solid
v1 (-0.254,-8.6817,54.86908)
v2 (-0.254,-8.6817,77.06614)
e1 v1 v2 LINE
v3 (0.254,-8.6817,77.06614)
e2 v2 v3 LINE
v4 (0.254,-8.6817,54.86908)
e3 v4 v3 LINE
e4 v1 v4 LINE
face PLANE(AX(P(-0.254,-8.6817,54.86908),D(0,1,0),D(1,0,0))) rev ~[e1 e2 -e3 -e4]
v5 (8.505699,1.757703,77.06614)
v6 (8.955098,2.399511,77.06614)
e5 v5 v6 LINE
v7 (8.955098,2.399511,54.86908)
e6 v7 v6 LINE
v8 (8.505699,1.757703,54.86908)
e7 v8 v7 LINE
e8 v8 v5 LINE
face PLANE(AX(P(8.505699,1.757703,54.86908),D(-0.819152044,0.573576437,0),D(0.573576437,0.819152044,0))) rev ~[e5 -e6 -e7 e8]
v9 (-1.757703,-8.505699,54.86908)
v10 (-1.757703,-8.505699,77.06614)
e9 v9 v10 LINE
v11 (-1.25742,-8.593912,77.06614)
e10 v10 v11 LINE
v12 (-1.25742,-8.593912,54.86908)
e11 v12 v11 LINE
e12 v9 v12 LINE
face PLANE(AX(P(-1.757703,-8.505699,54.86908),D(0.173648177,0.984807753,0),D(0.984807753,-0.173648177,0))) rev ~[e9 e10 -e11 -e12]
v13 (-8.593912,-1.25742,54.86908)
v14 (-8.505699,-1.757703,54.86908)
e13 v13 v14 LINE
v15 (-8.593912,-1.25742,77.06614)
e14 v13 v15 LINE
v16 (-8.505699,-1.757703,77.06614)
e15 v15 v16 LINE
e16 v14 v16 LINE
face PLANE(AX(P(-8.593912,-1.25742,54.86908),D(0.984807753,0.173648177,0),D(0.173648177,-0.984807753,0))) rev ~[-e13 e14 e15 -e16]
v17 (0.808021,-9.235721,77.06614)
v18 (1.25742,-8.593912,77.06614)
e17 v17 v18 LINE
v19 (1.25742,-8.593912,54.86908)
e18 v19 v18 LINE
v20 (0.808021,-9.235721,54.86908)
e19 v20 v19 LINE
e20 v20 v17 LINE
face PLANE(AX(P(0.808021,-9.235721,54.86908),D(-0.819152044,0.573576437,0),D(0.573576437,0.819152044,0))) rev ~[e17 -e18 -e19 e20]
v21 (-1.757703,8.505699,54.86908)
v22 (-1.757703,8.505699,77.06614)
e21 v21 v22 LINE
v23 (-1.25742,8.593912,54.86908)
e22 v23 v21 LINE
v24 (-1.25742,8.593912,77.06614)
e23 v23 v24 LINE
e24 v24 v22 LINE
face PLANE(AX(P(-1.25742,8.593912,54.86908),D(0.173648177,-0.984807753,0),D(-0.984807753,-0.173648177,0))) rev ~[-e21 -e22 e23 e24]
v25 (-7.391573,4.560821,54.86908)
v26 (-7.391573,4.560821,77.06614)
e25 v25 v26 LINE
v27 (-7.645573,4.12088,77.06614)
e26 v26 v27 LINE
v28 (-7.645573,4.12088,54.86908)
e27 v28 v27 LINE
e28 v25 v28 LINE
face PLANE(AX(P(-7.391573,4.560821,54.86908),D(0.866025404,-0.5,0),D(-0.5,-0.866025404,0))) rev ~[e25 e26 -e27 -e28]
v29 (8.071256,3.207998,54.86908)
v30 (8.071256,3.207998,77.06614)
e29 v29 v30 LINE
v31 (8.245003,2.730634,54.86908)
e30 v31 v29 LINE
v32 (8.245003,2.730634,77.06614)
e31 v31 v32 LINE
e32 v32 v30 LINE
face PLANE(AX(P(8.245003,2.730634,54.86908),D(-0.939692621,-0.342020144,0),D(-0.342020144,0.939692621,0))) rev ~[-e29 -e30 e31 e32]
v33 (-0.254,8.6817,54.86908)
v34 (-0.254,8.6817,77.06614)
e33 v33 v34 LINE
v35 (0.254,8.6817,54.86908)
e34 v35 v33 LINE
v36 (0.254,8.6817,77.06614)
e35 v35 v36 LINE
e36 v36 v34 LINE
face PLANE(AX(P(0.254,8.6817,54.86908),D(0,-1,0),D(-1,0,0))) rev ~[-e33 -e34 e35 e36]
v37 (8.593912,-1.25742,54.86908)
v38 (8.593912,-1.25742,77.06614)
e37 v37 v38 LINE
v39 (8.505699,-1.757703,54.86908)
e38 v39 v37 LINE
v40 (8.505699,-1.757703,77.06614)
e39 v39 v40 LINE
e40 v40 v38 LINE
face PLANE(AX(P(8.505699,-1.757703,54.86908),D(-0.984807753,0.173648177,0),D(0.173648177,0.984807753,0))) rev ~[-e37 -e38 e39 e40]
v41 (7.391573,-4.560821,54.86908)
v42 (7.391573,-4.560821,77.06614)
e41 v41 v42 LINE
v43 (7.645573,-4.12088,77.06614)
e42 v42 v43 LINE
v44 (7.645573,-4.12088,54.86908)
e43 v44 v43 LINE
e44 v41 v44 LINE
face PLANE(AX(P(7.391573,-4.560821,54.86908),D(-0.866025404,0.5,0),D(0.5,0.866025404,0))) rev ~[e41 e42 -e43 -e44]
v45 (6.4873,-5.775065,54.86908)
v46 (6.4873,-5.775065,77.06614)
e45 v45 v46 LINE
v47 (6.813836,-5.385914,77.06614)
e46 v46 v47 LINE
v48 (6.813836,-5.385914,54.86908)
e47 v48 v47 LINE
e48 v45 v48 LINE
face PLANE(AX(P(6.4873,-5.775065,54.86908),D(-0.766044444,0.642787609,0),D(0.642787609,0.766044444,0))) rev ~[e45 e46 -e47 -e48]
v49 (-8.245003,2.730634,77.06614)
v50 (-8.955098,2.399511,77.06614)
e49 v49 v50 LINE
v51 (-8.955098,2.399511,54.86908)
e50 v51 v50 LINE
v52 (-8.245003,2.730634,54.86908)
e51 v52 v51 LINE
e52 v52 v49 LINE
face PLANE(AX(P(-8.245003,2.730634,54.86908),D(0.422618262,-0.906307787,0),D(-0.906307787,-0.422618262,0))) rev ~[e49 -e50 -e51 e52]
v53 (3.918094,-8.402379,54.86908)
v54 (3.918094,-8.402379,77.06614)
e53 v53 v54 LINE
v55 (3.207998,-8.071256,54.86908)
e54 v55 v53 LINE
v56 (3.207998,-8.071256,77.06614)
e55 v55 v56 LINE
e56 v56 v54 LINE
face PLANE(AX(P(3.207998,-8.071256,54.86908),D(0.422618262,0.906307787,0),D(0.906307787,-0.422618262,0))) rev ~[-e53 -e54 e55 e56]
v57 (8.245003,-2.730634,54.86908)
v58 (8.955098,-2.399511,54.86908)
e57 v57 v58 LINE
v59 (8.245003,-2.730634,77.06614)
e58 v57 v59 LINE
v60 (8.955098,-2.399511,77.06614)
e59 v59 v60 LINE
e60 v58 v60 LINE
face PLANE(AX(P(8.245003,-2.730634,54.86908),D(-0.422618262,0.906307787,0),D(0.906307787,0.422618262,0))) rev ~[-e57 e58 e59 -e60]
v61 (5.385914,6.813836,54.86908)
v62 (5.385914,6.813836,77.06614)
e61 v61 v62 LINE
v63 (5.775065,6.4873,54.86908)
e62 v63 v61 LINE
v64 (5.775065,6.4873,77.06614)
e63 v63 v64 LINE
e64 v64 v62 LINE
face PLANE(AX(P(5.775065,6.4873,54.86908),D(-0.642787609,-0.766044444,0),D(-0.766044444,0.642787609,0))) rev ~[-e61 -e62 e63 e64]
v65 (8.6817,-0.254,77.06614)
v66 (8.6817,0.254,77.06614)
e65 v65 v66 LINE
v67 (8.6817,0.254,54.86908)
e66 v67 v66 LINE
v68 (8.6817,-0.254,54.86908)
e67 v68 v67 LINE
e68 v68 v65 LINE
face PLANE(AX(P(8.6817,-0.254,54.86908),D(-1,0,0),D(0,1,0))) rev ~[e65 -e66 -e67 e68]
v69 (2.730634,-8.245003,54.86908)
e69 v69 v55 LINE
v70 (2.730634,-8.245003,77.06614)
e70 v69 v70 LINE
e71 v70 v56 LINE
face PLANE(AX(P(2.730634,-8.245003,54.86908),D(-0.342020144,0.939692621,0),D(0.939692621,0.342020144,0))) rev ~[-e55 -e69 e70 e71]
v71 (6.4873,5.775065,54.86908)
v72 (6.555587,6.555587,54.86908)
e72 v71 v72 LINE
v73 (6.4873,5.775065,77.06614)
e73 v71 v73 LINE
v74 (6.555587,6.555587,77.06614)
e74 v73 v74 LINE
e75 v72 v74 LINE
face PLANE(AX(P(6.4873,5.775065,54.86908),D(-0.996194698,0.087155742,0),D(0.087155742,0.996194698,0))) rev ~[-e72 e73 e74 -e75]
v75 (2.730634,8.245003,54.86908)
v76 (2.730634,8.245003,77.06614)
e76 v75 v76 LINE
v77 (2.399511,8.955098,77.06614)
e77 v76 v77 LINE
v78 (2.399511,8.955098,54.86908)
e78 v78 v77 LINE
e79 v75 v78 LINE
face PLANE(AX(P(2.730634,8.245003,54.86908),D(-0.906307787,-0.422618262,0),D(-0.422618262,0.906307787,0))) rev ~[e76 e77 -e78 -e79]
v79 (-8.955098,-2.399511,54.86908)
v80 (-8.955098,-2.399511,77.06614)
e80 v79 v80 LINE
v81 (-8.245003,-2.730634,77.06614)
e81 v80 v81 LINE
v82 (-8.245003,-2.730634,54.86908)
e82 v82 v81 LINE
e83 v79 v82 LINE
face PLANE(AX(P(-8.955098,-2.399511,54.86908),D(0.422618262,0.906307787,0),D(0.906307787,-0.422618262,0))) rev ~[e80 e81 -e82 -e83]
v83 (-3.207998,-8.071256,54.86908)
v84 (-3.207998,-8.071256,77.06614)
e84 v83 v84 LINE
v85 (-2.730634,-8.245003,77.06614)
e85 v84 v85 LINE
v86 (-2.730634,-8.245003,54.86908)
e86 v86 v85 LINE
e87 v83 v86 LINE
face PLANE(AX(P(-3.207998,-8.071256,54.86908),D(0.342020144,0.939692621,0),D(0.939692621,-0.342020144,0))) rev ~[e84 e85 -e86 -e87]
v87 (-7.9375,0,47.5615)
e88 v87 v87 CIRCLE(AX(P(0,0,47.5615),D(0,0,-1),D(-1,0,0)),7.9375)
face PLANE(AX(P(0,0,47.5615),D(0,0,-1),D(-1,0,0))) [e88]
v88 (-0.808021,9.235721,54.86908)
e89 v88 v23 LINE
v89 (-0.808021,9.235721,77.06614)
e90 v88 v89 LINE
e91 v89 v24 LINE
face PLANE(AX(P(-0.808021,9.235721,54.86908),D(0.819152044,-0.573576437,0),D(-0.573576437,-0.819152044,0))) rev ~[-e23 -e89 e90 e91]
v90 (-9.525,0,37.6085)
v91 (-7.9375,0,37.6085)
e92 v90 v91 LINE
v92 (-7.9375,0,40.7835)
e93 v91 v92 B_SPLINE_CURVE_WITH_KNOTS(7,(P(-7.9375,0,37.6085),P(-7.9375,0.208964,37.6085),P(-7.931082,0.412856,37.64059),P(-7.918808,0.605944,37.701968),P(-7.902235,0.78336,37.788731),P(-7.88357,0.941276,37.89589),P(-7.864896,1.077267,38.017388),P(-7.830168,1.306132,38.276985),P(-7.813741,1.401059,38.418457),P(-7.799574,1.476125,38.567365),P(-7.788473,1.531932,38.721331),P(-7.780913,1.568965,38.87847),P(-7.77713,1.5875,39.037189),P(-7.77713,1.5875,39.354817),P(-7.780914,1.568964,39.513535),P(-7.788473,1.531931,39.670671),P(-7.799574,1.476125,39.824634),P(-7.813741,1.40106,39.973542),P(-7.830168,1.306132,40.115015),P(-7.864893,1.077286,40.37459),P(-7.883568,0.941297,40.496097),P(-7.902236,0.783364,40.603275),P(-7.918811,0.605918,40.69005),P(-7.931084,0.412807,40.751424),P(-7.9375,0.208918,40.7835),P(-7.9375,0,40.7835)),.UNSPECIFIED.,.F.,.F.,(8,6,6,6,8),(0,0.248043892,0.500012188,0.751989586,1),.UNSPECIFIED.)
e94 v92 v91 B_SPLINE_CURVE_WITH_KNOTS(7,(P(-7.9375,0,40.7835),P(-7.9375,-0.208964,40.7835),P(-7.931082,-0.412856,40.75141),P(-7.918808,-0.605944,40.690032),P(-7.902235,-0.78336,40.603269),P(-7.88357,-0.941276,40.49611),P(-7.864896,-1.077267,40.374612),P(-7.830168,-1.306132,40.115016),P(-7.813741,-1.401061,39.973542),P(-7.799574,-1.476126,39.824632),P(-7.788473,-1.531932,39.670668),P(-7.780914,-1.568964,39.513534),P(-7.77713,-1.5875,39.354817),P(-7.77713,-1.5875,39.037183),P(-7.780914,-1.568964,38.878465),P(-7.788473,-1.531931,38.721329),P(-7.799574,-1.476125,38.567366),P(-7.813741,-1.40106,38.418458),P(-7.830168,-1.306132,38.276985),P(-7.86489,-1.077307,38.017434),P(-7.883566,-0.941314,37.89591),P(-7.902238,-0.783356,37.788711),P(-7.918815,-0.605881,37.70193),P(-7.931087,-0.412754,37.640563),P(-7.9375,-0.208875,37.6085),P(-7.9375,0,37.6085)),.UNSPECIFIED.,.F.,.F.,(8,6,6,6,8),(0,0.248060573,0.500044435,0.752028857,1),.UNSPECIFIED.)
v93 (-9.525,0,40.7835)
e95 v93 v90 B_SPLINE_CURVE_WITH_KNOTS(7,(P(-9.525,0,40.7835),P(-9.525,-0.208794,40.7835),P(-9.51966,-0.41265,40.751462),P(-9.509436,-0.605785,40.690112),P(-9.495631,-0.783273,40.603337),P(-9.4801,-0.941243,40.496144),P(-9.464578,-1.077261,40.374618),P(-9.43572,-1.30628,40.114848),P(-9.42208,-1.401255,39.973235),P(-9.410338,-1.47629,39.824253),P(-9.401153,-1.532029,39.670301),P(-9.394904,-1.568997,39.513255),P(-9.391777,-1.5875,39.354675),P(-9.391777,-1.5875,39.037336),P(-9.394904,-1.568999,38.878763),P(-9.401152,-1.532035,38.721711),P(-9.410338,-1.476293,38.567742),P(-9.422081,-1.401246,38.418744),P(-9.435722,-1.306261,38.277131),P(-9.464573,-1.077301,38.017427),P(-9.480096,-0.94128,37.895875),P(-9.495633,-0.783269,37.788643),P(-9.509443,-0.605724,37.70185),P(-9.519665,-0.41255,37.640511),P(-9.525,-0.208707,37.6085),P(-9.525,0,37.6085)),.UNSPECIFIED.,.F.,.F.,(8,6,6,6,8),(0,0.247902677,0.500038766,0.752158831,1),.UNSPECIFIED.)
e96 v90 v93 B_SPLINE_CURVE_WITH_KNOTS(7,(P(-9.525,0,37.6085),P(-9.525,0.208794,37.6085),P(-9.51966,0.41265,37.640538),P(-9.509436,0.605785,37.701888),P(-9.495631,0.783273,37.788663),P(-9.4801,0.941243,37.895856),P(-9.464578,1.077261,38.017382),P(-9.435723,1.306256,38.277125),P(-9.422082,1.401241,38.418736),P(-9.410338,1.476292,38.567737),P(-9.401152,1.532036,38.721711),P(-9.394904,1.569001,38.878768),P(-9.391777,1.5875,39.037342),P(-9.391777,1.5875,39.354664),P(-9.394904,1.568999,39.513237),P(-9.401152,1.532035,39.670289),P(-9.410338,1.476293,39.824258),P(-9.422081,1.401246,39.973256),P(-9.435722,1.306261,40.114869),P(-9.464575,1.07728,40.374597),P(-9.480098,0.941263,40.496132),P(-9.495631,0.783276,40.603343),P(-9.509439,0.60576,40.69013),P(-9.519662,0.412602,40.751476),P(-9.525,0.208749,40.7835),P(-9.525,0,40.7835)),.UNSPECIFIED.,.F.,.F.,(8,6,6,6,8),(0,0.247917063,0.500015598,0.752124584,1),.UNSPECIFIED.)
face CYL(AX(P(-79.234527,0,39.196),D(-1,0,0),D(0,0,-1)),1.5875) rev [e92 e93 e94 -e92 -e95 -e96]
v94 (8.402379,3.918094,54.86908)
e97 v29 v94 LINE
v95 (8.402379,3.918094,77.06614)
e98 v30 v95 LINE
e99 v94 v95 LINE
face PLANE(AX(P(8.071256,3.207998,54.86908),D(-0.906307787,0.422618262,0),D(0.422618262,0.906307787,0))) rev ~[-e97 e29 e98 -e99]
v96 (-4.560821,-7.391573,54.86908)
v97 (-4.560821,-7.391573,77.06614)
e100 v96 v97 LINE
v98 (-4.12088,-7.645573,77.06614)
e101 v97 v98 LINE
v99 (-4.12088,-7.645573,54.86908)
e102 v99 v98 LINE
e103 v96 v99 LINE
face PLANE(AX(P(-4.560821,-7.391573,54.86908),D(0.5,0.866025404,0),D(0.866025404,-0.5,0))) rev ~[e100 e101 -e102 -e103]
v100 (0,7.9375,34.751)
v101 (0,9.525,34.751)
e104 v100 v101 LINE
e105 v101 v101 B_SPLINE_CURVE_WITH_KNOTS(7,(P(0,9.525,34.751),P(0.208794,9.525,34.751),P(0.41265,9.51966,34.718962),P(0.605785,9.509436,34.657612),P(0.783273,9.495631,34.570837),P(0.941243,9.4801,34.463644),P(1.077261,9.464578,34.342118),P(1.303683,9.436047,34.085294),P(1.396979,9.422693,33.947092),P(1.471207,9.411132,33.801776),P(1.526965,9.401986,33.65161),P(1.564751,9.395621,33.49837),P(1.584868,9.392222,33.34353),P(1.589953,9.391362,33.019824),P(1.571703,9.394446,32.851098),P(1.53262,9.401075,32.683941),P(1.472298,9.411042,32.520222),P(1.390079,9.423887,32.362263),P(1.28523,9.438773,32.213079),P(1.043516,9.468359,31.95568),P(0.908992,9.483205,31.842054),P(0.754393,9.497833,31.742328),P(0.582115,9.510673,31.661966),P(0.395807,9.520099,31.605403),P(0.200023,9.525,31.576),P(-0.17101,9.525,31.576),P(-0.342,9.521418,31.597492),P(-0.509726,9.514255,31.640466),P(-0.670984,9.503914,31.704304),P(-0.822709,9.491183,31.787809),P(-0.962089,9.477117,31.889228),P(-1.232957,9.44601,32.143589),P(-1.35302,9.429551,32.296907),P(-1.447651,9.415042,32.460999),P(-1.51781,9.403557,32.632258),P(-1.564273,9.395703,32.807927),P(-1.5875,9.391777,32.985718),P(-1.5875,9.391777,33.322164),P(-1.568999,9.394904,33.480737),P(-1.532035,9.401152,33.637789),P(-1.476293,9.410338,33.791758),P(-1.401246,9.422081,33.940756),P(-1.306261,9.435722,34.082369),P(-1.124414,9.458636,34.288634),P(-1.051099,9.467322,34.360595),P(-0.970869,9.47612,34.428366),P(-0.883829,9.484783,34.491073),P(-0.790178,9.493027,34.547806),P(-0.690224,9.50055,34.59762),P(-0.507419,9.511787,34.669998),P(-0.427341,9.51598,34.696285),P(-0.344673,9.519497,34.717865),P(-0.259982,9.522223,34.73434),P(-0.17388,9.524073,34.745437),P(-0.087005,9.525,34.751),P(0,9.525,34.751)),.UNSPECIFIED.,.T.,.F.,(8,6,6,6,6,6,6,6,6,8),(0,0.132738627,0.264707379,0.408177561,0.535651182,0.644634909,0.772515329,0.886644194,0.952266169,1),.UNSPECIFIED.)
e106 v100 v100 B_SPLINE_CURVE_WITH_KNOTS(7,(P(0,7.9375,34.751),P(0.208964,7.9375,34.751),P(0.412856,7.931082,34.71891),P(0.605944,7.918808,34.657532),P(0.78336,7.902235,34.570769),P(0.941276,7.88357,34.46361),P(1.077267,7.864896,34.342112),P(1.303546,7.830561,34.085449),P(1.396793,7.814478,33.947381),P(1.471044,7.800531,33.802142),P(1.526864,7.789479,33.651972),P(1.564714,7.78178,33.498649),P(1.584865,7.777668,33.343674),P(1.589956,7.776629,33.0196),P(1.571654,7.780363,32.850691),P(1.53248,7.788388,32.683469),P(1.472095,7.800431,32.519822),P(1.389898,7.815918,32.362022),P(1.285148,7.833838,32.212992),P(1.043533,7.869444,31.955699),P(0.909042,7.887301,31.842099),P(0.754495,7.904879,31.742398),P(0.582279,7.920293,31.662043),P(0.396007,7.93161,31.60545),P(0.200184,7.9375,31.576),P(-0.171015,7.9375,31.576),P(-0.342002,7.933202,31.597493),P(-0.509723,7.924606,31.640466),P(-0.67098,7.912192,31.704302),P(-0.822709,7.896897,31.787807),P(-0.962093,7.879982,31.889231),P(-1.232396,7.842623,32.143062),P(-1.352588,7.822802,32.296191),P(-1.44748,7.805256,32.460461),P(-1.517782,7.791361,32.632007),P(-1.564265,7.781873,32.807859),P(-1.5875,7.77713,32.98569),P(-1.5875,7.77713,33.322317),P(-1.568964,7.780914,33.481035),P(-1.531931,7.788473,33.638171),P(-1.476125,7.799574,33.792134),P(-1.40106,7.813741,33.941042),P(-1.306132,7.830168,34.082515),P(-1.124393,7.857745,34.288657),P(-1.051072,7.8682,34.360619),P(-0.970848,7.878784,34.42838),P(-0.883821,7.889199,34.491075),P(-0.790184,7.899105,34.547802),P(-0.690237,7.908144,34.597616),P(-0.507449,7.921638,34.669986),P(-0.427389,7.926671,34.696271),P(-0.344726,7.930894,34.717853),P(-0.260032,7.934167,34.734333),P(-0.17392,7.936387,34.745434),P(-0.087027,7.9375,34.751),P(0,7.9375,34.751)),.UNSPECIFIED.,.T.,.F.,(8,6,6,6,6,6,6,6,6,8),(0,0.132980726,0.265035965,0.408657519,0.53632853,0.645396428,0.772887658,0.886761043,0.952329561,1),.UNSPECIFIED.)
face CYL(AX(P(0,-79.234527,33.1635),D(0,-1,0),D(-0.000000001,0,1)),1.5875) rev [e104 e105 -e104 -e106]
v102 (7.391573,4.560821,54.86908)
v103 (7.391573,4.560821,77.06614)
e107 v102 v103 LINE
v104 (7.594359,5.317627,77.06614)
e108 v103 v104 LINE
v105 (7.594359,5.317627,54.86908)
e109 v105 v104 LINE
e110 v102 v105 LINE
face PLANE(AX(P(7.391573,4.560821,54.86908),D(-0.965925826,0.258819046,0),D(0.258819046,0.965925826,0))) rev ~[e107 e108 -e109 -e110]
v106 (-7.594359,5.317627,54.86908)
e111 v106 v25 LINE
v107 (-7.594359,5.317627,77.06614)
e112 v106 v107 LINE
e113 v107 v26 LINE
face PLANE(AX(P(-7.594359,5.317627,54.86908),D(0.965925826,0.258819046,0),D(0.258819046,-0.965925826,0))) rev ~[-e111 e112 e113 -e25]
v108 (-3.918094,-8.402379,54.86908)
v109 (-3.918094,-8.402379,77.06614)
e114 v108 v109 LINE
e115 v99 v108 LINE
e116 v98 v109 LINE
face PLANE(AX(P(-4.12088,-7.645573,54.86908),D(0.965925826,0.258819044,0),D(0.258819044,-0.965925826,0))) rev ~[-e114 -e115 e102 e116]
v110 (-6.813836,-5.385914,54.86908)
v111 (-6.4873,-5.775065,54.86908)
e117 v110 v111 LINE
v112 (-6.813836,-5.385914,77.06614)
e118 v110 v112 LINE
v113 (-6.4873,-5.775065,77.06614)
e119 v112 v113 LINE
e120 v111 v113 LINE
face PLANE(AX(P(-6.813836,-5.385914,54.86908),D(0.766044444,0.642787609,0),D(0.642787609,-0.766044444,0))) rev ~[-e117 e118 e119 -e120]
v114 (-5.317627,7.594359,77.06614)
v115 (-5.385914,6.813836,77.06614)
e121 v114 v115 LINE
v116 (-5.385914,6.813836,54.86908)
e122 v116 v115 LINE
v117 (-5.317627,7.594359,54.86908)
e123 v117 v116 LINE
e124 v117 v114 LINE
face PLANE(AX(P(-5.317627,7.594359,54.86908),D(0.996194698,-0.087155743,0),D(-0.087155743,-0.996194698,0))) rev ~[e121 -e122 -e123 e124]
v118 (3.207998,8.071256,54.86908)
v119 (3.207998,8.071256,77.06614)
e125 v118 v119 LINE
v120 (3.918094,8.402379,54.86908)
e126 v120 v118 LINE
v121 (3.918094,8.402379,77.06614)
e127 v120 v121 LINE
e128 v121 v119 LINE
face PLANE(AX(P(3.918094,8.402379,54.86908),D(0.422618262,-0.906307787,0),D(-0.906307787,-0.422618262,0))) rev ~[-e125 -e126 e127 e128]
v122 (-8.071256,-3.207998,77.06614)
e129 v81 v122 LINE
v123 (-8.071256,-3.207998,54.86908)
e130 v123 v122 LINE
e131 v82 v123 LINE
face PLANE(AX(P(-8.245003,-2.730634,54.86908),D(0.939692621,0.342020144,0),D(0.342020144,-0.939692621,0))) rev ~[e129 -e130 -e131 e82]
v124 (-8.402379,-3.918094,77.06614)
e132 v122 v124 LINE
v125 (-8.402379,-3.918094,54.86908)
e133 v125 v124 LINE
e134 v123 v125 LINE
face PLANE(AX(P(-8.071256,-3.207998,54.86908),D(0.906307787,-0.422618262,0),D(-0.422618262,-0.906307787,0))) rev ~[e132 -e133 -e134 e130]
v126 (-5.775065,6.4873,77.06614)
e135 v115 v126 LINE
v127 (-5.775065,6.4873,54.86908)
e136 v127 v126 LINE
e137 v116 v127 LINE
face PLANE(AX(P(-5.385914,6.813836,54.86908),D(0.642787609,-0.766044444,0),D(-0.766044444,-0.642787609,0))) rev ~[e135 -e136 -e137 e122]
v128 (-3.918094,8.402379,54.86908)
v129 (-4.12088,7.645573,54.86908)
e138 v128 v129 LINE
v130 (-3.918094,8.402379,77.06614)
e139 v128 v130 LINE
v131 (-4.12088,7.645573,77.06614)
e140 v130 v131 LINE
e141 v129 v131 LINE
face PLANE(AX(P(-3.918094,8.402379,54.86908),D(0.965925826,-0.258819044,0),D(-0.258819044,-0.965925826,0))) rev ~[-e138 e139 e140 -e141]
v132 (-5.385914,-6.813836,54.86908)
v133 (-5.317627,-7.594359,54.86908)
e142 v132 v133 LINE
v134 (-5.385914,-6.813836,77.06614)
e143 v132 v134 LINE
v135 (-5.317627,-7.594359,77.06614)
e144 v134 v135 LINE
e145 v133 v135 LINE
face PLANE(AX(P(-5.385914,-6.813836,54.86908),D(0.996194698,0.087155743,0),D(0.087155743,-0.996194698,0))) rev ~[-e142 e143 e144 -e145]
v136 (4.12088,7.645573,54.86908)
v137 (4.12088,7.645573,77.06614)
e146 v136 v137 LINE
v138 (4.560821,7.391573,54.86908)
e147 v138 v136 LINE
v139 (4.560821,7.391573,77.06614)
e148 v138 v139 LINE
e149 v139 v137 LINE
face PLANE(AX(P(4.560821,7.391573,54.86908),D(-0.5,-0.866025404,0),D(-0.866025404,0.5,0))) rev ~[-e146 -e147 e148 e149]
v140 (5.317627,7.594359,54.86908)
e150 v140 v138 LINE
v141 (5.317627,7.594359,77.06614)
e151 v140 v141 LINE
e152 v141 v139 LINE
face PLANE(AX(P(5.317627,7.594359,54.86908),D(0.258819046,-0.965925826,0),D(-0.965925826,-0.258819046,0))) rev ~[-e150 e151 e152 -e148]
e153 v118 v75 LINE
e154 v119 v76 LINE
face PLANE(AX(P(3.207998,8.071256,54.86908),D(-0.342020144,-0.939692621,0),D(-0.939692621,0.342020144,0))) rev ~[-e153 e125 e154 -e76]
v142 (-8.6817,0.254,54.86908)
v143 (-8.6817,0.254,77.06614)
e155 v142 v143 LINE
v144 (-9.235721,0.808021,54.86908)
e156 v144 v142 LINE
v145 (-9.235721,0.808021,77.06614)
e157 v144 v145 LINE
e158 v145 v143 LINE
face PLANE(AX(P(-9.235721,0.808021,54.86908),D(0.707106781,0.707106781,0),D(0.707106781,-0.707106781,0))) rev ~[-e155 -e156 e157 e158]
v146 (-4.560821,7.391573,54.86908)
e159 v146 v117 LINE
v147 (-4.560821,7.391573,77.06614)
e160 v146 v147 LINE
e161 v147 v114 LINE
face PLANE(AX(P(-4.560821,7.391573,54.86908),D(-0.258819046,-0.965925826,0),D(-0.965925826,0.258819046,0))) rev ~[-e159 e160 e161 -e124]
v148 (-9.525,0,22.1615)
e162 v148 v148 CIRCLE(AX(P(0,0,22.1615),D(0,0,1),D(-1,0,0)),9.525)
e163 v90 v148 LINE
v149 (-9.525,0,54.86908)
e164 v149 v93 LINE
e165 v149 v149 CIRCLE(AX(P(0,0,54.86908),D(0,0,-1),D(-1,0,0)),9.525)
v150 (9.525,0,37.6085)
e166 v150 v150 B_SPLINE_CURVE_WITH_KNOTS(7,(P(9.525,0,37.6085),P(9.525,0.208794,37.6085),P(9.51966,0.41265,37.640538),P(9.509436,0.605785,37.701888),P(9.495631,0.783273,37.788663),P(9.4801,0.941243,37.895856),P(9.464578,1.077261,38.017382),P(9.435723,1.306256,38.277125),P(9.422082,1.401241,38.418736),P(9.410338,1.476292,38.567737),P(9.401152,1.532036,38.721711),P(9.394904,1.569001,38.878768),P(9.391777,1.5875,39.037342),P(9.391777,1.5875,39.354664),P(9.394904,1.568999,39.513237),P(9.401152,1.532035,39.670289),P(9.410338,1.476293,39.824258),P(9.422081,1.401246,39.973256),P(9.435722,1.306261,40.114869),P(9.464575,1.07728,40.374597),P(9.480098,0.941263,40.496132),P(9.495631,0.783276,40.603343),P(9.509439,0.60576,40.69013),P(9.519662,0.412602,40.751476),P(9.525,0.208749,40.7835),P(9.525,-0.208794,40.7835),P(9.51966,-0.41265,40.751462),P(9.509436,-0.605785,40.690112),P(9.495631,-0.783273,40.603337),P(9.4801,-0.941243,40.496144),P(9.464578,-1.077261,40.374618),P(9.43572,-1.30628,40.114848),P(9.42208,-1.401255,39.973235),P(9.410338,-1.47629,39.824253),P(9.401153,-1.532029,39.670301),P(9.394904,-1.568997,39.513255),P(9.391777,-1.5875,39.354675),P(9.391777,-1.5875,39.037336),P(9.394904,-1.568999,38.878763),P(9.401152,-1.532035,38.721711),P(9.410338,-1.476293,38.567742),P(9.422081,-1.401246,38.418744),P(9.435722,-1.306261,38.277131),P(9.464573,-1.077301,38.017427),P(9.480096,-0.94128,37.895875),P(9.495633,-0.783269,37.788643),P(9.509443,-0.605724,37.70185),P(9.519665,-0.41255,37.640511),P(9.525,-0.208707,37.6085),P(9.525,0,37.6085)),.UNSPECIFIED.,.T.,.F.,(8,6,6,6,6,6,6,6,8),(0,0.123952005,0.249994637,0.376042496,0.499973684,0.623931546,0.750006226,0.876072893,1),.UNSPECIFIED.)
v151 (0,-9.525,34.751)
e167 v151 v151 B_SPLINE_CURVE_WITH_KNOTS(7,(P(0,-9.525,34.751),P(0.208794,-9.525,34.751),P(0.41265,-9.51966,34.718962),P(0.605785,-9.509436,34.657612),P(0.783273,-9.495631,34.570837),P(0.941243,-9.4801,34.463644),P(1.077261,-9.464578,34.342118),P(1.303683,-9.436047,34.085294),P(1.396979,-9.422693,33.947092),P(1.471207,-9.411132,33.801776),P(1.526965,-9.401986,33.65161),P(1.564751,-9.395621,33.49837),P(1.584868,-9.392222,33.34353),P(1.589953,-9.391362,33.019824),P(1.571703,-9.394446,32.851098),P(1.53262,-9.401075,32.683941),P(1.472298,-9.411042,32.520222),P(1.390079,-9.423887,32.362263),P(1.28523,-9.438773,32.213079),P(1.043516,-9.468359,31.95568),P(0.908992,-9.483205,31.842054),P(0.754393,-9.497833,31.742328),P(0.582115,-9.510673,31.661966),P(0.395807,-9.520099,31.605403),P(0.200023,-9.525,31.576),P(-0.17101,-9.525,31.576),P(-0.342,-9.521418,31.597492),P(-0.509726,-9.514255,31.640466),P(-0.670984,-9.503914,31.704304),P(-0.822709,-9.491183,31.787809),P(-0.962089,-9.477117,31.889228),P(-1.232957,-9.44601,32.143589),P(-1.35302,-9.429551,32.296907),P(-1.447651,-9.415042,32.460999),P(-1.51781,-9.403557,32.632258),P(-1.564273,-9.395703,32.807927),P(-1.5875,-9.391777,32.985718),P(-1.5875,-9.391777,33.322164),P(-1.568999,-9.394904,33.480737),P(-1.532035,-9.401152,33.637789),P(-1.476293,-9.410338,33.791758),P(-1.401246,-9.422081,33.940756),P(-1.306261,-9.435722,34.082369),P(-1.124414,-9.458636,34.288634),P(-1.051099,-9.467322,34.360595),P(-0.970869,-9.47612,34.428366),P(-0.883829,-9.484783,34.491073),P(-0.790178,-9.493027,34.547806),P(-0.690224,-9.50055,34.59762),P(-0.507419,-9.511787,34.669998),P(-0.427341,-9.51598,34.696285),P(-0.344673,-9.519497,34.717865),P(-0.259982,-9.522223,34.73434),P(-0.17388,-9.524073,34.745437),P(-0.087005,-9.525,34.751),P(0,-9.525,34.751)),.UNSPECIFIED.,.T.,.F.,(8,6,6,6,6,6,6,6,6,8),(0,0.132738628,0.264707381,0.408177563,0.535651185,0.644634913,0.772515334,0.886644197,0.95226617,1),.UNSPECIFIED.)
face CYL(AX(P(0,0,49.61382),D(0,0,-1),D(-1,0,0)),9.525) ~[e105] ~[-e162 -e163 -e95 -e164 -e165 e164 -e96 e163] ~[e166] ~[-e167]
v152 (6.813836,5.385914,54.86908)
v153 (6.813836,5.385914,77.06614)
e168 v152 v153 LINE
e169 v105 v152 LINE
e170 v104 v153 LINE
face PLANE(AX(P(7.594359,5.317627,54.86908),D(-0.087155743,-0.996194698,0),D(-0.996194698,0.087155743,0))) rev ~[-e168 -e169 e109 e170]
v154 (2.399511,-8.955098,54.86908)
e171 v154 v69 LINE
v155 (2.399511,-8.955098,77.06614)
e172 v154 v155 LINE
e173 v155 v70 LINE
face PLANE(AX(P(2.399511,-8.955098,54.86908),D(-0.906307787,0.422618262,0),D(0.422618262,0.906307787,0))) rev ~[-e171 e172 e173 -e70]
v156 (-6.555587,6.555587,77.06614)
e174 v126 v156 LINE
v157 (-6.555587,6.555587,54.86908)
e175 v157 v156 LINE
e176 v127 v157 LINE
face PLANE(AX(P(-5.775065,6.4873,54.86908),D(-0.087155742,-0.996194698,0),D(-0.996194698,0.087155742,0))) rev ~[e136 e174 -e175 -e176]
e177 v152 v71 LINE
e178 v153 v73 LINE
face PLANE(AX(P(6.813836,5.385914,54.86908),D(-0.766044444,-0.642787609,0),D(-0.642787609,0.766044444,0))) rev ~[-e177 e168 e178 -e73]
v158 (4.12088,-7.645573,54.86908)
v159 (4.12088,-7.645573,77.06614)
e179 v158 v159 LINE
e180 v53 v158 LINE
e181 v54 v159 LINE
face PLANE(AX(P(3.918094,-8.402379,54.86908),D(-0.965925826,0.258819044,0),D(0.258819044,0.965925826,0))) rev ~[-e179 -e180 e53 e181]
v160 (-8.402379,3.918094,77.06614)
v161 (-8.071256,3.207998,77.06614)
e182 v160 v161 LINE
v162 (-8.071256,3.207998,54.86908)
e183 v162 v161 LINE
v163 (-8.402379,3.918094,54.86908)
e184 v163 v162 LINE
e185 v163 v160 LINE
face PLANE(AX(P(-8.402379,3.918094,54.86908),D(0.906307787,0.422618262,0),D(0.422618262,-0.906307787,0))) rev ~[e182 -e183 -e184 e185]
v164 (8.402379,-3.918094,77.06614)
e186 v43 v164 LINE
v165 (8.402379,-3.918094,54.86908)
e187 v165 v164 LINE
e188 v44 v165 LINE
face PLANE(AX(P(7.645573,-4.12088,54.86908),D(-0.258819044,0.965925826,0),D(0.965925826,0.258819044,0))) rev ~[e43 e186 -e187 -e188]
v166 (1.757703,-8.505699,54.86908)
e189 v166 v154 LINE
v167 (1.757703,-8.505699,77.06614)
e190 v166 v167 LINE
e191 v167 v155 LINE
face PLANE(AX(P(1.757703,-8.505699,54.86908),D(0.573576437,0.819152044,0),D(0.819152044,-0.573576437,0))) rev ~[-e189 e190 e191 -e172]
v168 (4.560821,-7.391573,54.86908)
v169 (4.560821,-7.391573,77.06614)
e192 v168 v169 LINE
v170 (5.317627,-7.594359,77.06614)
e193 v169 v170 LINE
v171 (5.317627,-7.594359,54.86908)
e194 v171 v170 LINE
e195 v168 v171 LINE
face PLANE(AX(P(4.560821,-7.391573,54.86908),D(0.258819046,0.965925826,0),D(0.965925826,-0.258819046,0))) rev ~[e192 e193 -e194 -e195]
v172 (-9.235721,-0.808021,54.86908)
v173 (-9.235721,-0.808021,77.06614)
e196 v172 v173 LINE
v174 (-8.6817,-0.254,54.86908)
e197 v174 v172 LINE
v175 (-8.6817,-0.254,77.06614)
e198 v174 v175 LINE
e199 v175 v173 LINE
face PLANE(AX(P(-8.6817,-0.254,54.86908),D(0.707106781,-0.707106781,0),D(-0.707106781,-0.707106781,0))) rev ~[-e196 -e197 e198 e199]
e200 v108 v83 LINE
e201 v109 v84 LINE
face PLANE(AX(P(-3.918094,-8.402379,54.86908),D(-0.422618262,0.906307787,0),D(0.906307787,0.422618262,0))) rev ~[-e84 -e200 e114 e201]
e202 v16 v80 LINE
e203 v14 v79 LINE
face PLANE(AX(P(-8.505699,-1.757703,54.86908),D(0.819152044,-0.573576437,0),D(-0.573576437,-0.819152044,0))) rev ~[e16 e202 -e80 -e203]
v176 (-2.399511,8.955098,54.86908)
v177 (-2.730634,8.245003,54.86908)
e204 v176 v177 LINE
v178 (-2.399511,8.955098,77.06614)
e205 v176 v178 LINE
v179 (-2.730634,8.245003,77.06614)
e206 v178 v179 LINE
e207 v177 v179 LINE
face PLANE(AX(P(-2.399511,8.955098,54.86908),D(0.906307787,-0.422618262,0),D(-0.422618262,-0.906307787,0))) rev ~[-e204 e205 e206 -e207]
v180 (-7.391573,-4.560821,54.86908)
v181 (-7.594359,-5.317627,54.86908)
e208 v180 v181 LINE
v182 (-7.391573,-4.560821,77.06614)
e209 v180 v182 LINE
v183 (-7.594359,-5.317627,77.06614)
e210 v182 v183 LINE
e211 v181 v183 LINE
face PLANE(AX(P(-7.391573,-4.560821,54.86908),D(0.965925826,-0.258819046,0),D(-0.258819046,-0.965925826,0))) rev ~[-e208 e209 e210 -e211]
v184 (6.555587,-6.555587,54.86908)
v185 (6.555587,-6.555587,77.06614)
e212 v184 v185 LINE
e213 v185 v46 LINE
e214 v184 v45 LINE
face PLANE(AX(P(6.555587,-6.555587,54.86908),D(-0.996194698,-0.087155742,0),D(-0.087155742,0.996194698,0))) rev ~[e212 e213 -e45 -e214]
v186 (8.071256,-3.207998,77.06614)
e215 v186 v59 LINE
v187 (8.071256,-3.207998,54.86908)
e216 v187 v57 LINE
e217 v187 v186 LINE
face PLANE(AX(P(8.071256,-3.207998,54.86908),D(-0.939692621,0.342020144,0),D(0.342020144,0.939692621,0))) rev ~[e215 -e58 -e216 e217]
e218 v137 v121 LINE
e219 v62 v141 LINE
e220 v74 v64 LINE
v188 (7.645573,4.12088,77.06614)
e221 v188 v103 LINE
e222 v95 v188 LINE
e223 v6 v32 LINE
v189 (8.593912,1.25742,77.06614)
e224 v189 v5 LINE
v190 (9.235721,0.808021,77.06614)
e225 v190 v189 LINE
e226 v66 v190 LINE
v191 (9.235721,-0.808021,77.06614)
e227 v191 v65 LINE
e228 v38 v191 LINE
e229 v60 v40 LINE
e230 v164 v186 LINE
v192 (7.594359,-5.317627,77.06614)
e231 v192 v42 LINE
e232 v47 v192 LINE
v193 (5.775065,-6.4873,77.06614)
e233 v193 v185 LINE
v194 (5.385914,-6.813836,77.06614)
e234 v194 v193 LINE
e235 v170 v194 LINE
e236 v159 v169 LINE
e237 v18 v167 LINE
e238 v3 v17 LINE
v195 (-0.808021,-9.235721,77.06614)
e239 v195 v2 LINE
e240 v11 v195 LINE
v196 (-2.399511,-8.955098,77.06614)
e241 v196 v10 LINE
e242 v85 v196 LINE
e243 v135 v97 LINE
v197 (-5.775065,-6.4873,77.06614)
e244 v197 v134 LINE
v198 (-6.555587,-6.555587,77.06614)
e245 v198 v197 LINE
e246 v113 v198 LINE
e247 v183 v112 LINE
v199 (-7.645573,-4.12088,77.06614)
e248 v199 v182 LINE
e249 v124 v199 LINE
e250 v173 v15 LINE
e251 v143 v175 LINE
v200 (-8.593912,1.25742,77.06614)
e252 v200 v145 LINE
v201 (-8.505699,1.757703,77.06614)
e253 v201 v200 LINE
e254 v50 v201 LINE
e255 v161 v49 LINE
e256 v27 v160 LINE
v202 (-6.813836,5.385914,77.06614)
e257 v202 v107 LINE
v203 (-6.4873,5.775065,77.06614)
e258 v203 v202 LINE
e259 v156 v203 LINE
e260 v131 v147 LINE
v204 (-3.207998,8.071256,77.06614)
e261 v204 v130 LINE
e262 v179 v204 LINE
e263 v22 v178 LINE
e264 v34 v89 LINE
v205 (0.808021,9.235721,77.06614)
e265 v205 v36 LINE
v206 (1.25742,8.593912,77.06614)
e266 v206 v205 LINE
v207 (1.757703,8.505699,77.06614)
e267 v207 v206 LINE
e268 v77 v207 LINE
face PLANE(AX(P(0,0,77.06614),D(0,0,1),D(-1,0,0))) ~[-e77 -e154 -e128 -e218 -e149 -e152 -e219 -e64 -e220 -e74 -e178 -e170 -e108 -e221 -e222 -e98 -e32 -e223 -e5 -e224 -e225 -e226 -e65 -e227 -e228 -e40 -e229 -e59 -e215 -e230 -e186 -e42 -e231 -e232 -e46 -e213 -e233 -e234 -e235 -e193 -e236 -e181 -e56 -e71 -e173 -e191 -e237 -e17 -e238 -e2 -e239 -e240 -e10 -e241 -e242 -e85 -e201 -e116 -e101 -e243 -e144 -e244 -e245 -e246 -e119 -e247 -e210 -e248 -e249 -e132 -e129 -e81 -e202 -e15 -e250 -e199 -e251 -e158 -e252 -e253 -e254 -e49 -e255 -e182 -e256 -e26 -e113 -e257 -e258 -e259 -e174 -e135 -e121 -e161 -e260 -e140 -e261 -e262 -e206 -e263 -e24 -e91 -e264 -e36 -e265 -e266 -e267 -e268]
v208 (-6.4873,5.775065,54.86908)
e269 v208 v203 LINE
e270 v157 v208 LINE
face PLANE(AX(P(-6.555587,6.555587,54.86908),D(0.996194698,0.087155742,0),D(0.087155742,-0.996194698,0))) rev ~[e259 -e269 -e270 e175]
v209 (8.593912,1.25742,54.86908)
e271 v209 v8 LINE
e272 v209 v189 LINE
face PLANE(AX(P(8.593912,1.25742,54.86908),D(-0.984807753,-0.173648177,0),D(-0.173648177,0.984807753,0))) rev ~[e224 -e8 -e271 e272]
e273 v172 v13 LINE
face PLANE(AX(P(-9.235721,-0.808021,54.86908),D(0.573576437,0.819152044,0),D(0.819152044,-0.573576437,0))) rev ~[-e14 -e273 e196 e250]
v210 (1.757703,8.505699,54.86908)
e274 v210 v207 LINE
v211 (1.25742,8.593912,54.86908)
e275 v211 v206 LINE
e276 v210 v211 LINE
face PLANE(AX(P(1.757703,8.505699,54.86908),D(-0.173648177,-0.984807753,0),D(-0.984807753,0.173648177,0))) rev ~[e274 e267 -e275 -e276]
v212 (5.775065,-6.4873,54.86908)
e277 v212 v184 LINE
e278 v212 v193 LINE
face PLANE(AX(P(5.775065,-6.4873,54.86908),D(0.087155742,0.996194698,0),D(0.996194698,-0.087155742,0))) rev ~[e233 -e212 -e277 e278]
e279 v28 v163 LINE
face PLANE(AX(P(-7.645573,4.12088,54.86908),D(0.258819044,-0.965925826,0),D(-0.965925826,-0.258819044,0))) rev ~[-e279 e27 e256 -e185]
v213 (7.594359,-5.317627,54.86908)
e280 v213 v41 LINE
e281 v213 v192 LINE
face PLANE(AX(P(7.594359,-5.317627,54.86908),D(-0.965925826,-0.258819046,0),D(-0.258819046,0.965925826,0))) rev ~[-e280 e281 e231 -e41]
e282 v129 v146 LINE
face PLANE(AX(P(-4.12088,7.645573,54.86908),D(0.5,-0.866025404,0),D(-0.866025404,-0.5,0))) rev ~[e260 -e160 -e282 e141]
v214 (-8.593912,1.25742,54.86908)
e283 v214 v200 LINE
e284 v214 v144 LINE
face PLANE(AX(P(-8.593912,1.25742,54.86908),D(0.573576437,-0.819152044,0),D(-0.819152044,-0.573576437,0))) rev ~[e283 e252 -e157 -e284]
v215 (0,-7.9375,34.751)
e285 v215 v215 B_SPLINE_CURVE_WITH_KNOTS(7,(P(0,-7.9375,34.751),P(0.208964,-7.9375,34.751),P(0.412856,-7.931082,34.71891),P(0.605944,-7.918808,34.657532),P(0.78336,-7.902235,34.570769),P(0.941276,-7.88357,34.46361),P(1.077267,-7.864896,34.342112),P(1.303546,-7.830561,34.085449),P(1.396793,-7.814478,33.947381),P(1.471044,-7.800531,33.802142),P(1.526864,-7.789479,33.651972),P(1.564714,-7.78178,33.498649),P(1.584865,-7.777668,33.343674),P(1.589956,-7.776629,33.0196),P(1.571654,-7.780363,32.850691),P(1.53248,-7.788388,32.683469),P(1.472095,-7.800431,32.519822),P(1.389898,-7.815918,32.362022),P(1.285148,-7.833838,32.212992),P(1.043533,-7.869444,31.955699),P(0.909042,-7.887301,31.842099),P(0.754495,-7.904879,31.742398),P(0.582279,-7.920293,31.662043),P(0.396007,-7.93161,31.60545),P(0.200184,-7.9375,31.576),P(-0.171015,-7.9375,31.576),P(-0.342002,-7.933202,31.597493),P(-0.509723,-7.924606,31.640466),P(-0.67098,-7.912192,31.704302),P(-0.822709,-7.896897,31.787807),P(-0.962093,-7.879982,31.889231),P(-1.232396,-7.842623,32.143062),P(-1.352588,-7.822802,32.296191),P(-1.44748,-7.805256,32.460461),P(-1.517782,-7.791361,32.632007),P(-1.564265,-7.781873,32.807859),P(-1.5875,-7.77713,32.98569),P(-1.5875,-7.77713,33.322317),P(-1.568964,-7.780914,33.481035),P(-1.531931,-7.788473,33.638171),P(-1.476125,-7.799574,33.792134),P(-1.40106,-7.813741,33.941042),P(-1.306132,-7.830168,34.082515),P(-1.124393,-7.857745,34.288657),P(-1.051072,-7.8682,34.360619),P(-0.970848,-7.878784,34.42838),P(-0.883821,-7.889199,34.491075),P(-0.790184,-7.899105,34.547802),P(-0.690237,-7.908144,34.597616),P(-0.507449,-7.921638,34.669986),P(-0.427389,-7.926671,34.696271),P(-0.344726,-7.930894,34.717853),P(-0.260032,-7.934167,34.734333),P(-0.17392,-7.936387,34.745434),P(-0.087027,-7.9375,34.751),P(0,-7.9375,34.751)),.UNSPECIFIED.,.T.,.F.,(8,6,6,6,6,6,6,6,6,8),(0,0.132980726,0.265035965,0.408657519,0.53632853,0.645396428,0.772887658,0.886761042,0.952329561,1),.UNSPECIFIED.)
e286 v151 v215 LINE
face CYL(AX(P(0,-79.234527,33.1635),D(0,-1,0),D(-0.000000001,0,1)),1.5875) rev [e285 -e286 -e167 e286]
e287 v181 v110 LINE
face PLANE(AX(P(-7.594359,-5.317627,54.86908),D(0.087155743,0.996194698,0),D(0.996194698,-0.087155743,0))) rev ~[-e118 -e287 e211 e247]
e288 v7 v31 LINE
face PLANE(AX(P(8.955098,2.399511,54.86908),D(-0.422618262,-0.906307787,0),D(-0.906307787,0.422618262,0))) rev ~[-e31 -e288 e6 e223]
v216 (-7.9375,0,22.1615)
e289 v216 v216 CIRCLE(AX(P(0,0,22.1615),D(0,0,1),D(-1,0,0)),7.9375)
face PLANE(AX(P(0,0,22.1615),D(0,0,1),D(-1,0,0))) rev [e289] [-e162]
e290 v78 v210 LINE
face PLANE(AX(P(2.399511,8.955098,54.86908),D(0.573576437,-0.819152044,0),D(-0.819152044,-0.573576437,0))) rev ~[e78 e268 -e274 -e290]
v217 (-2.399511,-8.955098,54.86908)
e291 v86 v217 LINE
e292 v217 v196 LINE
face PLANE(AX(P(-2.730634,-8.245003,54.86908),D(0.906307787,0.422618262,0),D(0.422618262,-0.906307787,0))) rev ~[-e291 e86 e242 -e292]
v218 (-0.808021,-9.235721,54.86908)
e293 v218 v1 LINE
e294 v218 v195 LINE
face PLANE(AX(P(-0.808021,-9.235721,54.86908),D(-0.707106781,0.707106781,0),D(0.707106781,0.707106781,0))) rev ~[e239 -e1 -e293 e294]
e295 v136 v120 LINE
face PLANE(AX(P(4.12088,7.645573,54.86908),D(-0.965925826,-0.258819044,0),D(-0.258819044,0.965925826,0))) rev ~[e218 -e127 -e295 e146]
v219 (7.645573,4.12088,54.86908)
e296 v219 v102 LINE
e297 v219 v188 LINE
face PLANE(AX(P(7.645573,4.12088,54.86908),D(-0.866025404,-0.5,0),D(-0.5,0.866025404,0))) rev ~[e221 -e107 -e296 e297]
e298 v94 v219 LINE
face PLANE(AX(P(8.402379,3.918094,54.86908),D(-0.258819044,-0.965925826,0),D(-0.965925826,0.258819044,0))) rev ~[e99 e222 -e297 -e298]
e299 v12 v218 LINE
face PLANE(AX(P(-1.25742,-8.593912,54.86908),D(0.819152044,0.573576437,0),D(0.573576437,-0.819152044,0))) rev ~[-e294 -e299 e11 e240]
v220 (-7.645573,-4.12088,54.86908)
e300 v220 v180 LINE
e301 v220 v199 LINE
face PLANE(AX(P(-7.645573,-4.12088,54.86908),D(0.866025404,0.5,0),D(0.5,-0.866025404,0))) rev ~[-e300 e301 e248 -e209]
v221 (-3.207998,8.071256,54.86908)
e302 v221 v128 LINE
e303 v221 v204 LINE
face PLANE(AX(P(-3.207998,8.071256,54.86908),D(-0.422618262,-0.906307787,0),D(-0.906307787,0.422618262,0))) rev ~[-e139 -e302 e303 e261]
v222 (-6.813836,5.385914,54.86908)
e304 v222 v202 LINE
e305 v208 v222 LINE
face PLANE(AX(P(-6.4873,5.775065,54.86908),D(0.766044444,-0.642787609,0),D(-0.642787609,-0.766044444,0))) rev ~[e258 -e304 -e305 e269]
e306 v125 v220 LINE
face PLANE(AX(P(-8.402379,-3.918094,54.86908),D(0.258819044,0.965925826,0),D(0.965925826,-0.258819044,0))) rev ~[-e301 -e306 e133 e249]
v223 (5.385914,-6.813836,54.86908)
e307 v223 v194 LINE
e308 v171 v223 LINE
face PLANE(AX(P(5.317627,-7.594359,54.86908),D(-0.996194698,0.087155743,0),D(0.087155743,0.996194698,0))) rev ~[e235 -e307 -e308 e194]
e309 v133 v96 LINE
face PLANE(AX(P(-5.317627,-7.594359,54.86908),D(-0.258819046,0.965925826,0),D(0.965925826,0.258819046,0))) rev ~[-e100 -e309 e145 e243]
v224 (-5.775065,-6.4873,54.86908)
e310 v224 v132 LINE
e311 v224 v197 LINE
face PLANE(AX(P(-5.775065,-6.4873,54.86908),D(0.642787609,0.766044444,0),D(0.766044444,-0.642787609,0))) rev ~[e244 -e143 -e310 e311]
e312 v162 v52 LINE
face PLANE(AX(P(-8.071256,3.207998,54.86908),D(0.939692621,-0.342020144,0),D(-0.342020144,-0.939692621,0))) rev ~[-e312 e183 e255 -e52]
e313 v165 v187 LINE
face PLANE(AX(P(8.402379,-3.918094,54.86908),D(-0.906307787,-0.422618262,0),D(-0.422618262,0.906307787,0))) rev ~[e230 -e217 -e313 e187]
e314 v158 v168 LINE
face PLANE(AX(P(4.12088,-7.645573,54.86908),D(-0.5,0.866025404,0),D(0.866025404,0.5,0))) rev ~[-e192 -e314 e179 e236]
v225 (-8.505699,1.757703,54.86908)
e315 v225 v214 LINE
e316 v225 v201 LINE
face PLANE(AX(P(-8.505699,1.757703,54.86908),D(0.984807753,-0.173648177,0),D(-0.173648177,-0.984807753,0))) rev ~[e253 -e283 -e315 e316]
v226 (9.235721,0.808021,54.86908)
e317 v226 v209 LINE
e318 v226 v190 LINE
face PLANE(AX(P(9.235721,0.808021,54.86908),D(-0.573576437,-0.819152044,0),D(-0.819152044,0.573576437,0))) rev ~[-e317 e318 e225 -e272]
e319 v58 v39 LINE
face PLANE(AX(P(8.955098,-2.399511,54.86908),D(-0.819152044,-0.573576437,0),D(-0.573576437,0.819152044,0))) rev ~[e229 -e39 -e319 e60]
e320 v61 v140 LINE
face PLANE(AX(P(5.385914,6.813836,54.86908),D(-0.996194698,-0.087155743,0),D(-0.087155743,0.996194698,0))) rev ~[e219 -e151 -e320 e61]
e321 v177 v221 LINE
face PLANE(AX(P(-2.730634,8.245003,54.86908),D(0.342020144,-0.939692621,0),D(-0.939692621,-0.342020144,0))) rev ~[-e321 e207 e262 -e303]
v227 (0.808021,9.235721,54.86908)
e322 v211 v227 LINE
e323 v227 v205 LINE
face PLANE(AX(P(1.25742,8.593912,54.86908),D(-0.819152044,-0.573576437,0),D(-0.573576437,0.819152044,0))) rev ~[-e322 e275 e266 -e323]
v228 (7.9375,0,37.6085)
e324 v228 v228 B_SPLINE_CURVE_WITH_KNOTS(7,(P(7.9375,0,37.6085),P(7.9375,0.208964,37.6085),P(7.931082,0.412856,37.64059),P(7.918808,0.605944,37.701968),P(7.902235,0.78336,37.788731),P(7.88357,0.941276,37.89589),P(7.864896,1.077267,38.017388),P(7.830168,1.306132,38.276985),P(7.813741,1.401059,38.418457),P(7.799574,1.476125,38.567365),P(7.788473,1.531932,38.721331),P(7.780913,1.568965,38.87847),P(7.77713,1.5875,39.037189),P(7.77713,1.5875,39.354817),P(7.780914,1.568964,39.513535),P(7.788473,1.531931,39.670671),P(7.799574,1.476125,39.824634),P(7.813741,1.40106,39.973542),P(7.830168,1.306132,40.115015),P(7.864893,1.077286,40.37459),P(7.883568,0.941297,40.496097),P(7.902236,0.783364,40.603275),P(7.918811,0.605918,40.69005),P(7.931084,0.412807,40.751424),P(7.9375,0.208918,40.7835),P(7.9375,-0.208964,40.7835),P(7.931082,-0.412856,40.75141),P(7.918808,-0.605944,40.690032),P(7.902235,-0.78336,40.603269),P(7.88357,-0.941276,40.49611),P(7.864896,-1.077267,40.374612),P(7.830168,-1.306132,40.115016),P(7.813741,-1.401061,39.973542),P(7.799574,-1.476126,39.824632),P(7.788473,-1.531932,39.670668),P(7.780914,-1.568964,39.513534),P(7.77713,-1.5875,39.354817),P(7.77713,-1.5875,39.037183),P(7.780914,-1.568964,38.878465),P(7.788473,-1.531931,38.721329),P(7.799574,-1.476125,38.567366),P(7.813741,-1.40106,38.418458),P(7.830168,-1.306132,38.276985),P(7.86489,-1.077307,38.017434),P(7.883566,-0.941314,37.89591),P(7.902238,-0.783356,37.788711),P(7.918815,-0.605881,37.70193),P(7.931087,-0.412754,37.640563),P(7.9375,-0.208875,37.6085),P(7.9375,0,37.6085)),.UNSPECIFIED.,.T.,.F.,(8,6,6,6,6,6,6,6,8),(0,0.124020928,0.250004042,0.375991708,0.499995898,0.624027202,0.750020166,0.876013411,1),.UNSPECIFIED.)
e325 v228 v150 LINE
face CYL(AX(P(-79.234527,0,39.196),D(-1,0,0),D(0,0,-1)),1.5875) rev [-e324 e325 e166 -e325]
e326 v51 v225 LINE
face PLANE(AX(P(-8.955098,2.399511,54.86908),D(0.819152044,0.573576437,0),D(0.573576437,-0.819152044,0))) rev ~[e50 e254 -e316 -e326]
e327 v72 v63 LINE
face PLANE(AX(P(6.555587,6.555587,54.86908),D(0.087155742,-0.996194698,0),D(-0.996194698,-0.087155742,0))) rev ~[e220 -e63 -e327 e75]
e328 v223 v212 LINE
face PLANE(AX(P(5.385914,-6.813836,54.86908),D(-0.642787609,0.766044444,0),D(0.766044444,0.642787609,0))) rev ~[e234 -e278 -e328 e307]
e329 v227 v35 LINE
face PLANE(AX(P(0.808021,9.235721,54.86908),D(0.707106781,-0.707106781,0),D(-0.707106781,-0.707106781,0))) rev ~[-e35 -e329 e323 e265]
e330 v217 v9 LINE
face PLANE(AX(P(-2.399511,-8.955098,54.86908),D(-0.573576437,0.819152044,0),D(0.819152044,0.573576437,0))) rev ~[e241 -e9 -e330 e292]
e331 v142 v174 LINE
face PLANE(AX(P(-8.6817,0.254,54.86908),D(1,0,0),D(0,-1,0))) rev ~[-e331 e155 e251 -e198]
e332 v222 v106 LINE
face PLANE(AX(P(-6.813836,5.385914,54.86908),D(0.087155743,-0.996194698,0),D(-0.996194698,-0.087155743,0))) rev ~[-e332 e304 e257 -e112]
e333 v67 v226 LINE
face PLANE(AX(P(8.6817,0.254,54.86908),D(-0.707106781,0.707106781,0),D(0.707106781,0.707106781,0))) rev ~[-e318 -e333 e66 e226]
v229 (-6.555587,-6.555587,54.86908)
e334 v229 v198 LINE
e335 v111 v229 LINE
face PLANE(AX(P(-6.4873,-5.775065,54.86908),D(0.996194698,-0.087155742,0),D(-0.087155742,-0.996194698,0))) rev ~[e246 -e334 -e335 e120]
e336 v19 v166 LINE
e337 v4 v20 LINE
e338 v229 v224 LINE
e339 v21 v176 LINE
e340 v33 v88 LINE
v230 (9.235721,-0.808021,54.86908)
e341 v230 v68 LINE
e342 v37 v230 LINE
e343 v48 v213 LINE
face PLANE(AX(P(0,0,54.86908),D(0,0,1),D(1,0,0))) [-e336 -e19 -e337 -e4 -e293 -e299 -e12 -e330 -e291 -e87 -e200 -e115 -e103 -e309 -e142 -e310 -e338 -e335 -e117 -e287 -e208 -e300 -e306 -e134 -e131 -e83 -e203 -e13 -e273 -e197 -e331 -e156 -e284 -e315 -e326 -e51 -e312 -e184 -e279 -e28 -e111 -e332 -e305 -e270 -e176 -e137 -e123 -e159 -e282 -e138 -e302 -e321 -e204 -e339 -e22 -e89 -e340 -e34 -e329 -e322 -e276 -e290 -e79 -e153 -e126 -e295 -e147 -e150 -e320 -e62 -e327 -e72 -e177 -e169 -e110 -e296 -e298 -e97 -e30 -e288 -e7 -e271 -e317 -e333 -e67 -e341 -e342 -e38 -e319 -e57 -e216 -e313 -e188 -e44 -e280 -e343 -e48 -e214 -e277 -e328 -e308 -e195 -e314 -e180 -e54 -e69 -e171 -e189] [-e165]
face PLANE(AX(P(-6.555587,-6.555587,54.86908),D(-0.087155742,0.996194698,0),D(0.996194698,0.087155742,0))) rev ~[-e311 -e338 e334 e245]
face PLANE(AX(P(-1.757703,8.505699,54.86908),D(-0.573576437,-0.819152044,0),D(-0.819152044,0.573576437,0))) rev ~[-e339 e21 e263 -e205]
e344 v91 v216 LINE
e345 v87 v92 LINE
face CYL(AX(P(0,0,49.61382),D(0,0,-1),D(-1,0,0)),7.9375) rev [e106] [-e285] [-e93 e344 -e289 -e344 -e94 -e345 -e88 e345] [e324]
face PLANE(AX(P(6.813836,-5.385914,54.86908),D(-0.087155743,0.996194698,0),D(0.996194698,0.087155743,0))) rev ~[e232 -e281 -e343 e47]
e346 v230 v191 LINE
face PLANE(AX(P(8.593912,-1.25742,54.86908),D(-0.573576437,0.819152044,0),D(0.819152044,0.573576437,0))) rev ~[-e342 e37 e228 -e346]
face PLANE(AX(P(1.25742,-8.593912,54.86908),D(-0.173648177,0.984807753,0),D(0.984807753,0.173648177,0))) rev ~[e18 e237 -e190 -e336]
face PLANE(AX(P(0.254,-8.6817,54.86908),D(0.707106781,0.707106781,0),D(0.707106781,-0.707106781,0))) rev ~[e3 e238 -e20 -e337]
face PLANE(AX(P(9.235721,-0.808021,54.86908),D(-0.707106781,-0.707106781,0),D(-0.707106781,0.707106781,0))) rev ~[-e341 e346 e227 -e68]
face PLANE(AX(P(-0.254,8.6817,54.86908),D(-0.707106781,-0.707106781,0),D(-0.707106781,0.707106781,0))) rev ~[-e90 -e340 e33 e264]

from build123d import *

# Parameters (mm, degrees)
SKETCH5_W               = 1.587499994
SKETCH5_H               = 54.90464
CUT_EXTRUDE5_DEPTH      = 79.234526804
CUT_EXTRUDE5_DEPTH_BACK = 79.234526804
SKETCH7_R               = 1.5875
CUT_EXTRUDE6_DEPTH      = 79.234526927
CUT_EXTRUDE6_DEPTH_BACK = 79.234526927
SKETCH6_R               = 1.5875
SKETCH10_R              = 7.9375
BOSS_EXTRUDE1_DEPTH     = 29.50464
CUT_EXTRUDE7_START      = 54.86908
SKETCH8_R               = 12.7
CUT_EXTRUDE7_DEPTH      = 25.4


with BuildPart() as part:
    # Sketch5 → Revolve2 (revolve)
    with BuildSketch(Plane(origin=(0, 0, 0), x_dir=(1, 0, 0), z_dir=(0, 1, 0)), mode=Mode.PRIVATE) as revolve2_sk:
        with Locations((8.731249997, -49.61382)):
            Rectangle(SKETCH5_W, SKETCH5_H)
    revolve(revolve2_sk.sketch.rotate(Axis((0, 0, 0), (0, 0, 1)), 180), axis=Axis((0, 0, 0), (0, 0, 1)))

    # Sketch7 → Cut-Extrude5 (cut, two sides: drawn at the far end of the back side and taken through both)
    with BuildSketch(Plane(origin=(0, 0, 0), x_dir=(0, 0, -1), z_dir=(1, 0, 0)).offset(-CUT_EXTRUDE5_DEPTH_BACK)):
        with Locations((-39.195999993, 0)):
            Circle(SKETCH7_R)
    extrude(amount=CUT_EXTRUDE5_DEPTH + CUT_EXTRUDE5_DEPTH_BACK, mode=Mode.SUBTRACT)

    # Sketch6 → Cut-Extrude6 (cut, two sides: drawn at the far end of the back side and taken through both)
    with BuildSketch(Plane(origin=(0, 0, 0), x_dir=(1, 0, 0), z_dir=(0, 1, 0)).offset(-CUT_EXTRUDE6_DEPTH_BACK)):
        with Locations(Location((1e-09, -33.163499999, 0), (0, 0, 269.999999955))):
            Circle(SKETCH6_R)
    extrude(amount=CUT_EXTRUDE6_DEPTH + CUT_EXTRUDE6_DEPTH_BACK, mode=Mode.SUBTRACT)

    # Sketch10 → Boss-Extrude1 (add)
    with BuildSketch(Plane(origin=(0, 0, 47.5615), x_dir=(-1, 0, 0), z_dir=(0, 0, -1))):
        Circle(SKETCH10_R)
    extrude(amount=-BOSS_EXTRUDE1_DEPTH)

    # Sketch8 → Cut-Extrude7 (cut)
    with BuildSketch(Plane.XY.offset(CUT_EXTRUDE7_START)):
        Circle(SKETCH8_R)
        Polygon((9.235721046, -0.808020891), (8.681700155, -0.254), (8.681700155, 0.254), (9.235721046, 0.808020891), (8.593912259, 1.257420242), (8.505698985, 1.75770258), (8.955098336, 2.399511367), (8.245002688, 2.730634406), (8.071256455, 3.207998257), (8.402379494, 3.918093905), (7.645572882, 4.120879625), (7.391572882, 4.56082053), (7.594358603, 5.317627141), (6.813836213, 5.385914002), (6.487300108, 5.775064579), (6.555586968, 6.555586968), (5.775064579, 6.487300108), (5.385914002, 6.813836213), (5.317627141, 7.594358603), (4.56082053, 7.391572882), (4.120879625, 7.645572882), (3.918093905, 8.402379494), (3.207998257, 8.071256455), (2.730634406, 8.245002688), (2.399511367, 8.955098336), (1.75770258, 8.505698985), (1.257420242, 8.593912259), (0.808020891, 9.235721046), (0.254, 8.681700155), (-0.254, 8.681700155), (-0.808020891, 9.235721046), (-1.257420242, 8.593912259), (-1.75770258, 8.505698985), (-2.399511367, 8.955098336), (-2.730634406, 8.245002688), (-3.207998257, 8.071256455), (-3.918093905, 8.402379494), (-4.120879625, 7.645572882), (-4.56082053, 7.391572882), (-5.317627141, 7.594358603), (-5.385914002, 6.813836213), (-5.775064579, 6.487300108), (-6.555586968, 6.555586968), (-6.487300108, 5.775064579), (-6.813836213, 5.385914002), (-7.594358603, 5.317627141), (-7.391572882, 4.56082053), (-7.645572882, 4.120879625), (-8.402379494, 3.918093905), (-8.071256455, 3.207998257), (-8.245002688, 2.730634406), (-8.955098336, 2.399511367), (-8.505698985, 1.75770258), (-8.593912259, 1.257420242), (-9.235721046, 0.808020891), (-8.681700155, 0.254), (-8.681700155, -0.254), (-9.235721046, -0.808020891), (-8.593912259, -1.257420242), (-8.505698985, -1.75770258), (-8.955098336, -2.399511367), (-8.245002688, -2.730634406), (-8.071256455, -3.207998257), (-8.402379494, -3.918093905), (-7.645572882, -4.120879625), (-7.391572882, -4.56082053), (-7.594358603, -5.317627141), (-6.813836213, -5.385914002), (-6.487300108, -5.775064579), (-6.555586968, -6.555586968), (-5.775064579, -6.487300108), (-5.385914002, -6.813836213), (-5.317627141, -7.594358603), (-4.56082053, -7.391572882), (-4.120879625, -7.645572882), (-3.918093905, -8.402379494), (-3.207998257, -8.071256455), (-2.730634406, -8.245002688), (-2.399511367, -8.955098336), (-1.75770258, -8.505698985), (-1.257420242, -8.593912259), (-0.808020891, -9.235721046), (-0.254, -8.681700155), (0.254, -8.681700155), (0.808020891, -9.235721046), (1.257420242, -8.593912259), (1.75770258, -8.505698985), (2.399511367, -8.955098336), (2.730634406, -8.245002688), (3.207998257, -8.071256455), (3.918093905, -8.402379494), (4.120879625, -7.645572882), (4.56082053, -7.391572882), (5.317627141, -7.594358603), (5.385914002, -6.813836213), (5.775064579, -6.487300108), (6.555586968, -6.555586968), (6.487300108, -5.775064579), (6.813836213, -5.385914002), (7.594358603, -5.317627141), (7.391572882, -4.56082053), (7.645572882, -4.120879625), (8.402379494, -3.918093905), (8.071256455, -3.207998257), (8.245002688, -2.730634406), (8.955098336, -2.399511367), (8.505698985, -1.75770258), (8.593912259, -1.257420242), align=None, mode=Mode.SUBTRACT)
    extrude(amount=CUT_EXTRUDE7_DEPTH, mode=Mode.SUBTRACT)


solid = part.part
